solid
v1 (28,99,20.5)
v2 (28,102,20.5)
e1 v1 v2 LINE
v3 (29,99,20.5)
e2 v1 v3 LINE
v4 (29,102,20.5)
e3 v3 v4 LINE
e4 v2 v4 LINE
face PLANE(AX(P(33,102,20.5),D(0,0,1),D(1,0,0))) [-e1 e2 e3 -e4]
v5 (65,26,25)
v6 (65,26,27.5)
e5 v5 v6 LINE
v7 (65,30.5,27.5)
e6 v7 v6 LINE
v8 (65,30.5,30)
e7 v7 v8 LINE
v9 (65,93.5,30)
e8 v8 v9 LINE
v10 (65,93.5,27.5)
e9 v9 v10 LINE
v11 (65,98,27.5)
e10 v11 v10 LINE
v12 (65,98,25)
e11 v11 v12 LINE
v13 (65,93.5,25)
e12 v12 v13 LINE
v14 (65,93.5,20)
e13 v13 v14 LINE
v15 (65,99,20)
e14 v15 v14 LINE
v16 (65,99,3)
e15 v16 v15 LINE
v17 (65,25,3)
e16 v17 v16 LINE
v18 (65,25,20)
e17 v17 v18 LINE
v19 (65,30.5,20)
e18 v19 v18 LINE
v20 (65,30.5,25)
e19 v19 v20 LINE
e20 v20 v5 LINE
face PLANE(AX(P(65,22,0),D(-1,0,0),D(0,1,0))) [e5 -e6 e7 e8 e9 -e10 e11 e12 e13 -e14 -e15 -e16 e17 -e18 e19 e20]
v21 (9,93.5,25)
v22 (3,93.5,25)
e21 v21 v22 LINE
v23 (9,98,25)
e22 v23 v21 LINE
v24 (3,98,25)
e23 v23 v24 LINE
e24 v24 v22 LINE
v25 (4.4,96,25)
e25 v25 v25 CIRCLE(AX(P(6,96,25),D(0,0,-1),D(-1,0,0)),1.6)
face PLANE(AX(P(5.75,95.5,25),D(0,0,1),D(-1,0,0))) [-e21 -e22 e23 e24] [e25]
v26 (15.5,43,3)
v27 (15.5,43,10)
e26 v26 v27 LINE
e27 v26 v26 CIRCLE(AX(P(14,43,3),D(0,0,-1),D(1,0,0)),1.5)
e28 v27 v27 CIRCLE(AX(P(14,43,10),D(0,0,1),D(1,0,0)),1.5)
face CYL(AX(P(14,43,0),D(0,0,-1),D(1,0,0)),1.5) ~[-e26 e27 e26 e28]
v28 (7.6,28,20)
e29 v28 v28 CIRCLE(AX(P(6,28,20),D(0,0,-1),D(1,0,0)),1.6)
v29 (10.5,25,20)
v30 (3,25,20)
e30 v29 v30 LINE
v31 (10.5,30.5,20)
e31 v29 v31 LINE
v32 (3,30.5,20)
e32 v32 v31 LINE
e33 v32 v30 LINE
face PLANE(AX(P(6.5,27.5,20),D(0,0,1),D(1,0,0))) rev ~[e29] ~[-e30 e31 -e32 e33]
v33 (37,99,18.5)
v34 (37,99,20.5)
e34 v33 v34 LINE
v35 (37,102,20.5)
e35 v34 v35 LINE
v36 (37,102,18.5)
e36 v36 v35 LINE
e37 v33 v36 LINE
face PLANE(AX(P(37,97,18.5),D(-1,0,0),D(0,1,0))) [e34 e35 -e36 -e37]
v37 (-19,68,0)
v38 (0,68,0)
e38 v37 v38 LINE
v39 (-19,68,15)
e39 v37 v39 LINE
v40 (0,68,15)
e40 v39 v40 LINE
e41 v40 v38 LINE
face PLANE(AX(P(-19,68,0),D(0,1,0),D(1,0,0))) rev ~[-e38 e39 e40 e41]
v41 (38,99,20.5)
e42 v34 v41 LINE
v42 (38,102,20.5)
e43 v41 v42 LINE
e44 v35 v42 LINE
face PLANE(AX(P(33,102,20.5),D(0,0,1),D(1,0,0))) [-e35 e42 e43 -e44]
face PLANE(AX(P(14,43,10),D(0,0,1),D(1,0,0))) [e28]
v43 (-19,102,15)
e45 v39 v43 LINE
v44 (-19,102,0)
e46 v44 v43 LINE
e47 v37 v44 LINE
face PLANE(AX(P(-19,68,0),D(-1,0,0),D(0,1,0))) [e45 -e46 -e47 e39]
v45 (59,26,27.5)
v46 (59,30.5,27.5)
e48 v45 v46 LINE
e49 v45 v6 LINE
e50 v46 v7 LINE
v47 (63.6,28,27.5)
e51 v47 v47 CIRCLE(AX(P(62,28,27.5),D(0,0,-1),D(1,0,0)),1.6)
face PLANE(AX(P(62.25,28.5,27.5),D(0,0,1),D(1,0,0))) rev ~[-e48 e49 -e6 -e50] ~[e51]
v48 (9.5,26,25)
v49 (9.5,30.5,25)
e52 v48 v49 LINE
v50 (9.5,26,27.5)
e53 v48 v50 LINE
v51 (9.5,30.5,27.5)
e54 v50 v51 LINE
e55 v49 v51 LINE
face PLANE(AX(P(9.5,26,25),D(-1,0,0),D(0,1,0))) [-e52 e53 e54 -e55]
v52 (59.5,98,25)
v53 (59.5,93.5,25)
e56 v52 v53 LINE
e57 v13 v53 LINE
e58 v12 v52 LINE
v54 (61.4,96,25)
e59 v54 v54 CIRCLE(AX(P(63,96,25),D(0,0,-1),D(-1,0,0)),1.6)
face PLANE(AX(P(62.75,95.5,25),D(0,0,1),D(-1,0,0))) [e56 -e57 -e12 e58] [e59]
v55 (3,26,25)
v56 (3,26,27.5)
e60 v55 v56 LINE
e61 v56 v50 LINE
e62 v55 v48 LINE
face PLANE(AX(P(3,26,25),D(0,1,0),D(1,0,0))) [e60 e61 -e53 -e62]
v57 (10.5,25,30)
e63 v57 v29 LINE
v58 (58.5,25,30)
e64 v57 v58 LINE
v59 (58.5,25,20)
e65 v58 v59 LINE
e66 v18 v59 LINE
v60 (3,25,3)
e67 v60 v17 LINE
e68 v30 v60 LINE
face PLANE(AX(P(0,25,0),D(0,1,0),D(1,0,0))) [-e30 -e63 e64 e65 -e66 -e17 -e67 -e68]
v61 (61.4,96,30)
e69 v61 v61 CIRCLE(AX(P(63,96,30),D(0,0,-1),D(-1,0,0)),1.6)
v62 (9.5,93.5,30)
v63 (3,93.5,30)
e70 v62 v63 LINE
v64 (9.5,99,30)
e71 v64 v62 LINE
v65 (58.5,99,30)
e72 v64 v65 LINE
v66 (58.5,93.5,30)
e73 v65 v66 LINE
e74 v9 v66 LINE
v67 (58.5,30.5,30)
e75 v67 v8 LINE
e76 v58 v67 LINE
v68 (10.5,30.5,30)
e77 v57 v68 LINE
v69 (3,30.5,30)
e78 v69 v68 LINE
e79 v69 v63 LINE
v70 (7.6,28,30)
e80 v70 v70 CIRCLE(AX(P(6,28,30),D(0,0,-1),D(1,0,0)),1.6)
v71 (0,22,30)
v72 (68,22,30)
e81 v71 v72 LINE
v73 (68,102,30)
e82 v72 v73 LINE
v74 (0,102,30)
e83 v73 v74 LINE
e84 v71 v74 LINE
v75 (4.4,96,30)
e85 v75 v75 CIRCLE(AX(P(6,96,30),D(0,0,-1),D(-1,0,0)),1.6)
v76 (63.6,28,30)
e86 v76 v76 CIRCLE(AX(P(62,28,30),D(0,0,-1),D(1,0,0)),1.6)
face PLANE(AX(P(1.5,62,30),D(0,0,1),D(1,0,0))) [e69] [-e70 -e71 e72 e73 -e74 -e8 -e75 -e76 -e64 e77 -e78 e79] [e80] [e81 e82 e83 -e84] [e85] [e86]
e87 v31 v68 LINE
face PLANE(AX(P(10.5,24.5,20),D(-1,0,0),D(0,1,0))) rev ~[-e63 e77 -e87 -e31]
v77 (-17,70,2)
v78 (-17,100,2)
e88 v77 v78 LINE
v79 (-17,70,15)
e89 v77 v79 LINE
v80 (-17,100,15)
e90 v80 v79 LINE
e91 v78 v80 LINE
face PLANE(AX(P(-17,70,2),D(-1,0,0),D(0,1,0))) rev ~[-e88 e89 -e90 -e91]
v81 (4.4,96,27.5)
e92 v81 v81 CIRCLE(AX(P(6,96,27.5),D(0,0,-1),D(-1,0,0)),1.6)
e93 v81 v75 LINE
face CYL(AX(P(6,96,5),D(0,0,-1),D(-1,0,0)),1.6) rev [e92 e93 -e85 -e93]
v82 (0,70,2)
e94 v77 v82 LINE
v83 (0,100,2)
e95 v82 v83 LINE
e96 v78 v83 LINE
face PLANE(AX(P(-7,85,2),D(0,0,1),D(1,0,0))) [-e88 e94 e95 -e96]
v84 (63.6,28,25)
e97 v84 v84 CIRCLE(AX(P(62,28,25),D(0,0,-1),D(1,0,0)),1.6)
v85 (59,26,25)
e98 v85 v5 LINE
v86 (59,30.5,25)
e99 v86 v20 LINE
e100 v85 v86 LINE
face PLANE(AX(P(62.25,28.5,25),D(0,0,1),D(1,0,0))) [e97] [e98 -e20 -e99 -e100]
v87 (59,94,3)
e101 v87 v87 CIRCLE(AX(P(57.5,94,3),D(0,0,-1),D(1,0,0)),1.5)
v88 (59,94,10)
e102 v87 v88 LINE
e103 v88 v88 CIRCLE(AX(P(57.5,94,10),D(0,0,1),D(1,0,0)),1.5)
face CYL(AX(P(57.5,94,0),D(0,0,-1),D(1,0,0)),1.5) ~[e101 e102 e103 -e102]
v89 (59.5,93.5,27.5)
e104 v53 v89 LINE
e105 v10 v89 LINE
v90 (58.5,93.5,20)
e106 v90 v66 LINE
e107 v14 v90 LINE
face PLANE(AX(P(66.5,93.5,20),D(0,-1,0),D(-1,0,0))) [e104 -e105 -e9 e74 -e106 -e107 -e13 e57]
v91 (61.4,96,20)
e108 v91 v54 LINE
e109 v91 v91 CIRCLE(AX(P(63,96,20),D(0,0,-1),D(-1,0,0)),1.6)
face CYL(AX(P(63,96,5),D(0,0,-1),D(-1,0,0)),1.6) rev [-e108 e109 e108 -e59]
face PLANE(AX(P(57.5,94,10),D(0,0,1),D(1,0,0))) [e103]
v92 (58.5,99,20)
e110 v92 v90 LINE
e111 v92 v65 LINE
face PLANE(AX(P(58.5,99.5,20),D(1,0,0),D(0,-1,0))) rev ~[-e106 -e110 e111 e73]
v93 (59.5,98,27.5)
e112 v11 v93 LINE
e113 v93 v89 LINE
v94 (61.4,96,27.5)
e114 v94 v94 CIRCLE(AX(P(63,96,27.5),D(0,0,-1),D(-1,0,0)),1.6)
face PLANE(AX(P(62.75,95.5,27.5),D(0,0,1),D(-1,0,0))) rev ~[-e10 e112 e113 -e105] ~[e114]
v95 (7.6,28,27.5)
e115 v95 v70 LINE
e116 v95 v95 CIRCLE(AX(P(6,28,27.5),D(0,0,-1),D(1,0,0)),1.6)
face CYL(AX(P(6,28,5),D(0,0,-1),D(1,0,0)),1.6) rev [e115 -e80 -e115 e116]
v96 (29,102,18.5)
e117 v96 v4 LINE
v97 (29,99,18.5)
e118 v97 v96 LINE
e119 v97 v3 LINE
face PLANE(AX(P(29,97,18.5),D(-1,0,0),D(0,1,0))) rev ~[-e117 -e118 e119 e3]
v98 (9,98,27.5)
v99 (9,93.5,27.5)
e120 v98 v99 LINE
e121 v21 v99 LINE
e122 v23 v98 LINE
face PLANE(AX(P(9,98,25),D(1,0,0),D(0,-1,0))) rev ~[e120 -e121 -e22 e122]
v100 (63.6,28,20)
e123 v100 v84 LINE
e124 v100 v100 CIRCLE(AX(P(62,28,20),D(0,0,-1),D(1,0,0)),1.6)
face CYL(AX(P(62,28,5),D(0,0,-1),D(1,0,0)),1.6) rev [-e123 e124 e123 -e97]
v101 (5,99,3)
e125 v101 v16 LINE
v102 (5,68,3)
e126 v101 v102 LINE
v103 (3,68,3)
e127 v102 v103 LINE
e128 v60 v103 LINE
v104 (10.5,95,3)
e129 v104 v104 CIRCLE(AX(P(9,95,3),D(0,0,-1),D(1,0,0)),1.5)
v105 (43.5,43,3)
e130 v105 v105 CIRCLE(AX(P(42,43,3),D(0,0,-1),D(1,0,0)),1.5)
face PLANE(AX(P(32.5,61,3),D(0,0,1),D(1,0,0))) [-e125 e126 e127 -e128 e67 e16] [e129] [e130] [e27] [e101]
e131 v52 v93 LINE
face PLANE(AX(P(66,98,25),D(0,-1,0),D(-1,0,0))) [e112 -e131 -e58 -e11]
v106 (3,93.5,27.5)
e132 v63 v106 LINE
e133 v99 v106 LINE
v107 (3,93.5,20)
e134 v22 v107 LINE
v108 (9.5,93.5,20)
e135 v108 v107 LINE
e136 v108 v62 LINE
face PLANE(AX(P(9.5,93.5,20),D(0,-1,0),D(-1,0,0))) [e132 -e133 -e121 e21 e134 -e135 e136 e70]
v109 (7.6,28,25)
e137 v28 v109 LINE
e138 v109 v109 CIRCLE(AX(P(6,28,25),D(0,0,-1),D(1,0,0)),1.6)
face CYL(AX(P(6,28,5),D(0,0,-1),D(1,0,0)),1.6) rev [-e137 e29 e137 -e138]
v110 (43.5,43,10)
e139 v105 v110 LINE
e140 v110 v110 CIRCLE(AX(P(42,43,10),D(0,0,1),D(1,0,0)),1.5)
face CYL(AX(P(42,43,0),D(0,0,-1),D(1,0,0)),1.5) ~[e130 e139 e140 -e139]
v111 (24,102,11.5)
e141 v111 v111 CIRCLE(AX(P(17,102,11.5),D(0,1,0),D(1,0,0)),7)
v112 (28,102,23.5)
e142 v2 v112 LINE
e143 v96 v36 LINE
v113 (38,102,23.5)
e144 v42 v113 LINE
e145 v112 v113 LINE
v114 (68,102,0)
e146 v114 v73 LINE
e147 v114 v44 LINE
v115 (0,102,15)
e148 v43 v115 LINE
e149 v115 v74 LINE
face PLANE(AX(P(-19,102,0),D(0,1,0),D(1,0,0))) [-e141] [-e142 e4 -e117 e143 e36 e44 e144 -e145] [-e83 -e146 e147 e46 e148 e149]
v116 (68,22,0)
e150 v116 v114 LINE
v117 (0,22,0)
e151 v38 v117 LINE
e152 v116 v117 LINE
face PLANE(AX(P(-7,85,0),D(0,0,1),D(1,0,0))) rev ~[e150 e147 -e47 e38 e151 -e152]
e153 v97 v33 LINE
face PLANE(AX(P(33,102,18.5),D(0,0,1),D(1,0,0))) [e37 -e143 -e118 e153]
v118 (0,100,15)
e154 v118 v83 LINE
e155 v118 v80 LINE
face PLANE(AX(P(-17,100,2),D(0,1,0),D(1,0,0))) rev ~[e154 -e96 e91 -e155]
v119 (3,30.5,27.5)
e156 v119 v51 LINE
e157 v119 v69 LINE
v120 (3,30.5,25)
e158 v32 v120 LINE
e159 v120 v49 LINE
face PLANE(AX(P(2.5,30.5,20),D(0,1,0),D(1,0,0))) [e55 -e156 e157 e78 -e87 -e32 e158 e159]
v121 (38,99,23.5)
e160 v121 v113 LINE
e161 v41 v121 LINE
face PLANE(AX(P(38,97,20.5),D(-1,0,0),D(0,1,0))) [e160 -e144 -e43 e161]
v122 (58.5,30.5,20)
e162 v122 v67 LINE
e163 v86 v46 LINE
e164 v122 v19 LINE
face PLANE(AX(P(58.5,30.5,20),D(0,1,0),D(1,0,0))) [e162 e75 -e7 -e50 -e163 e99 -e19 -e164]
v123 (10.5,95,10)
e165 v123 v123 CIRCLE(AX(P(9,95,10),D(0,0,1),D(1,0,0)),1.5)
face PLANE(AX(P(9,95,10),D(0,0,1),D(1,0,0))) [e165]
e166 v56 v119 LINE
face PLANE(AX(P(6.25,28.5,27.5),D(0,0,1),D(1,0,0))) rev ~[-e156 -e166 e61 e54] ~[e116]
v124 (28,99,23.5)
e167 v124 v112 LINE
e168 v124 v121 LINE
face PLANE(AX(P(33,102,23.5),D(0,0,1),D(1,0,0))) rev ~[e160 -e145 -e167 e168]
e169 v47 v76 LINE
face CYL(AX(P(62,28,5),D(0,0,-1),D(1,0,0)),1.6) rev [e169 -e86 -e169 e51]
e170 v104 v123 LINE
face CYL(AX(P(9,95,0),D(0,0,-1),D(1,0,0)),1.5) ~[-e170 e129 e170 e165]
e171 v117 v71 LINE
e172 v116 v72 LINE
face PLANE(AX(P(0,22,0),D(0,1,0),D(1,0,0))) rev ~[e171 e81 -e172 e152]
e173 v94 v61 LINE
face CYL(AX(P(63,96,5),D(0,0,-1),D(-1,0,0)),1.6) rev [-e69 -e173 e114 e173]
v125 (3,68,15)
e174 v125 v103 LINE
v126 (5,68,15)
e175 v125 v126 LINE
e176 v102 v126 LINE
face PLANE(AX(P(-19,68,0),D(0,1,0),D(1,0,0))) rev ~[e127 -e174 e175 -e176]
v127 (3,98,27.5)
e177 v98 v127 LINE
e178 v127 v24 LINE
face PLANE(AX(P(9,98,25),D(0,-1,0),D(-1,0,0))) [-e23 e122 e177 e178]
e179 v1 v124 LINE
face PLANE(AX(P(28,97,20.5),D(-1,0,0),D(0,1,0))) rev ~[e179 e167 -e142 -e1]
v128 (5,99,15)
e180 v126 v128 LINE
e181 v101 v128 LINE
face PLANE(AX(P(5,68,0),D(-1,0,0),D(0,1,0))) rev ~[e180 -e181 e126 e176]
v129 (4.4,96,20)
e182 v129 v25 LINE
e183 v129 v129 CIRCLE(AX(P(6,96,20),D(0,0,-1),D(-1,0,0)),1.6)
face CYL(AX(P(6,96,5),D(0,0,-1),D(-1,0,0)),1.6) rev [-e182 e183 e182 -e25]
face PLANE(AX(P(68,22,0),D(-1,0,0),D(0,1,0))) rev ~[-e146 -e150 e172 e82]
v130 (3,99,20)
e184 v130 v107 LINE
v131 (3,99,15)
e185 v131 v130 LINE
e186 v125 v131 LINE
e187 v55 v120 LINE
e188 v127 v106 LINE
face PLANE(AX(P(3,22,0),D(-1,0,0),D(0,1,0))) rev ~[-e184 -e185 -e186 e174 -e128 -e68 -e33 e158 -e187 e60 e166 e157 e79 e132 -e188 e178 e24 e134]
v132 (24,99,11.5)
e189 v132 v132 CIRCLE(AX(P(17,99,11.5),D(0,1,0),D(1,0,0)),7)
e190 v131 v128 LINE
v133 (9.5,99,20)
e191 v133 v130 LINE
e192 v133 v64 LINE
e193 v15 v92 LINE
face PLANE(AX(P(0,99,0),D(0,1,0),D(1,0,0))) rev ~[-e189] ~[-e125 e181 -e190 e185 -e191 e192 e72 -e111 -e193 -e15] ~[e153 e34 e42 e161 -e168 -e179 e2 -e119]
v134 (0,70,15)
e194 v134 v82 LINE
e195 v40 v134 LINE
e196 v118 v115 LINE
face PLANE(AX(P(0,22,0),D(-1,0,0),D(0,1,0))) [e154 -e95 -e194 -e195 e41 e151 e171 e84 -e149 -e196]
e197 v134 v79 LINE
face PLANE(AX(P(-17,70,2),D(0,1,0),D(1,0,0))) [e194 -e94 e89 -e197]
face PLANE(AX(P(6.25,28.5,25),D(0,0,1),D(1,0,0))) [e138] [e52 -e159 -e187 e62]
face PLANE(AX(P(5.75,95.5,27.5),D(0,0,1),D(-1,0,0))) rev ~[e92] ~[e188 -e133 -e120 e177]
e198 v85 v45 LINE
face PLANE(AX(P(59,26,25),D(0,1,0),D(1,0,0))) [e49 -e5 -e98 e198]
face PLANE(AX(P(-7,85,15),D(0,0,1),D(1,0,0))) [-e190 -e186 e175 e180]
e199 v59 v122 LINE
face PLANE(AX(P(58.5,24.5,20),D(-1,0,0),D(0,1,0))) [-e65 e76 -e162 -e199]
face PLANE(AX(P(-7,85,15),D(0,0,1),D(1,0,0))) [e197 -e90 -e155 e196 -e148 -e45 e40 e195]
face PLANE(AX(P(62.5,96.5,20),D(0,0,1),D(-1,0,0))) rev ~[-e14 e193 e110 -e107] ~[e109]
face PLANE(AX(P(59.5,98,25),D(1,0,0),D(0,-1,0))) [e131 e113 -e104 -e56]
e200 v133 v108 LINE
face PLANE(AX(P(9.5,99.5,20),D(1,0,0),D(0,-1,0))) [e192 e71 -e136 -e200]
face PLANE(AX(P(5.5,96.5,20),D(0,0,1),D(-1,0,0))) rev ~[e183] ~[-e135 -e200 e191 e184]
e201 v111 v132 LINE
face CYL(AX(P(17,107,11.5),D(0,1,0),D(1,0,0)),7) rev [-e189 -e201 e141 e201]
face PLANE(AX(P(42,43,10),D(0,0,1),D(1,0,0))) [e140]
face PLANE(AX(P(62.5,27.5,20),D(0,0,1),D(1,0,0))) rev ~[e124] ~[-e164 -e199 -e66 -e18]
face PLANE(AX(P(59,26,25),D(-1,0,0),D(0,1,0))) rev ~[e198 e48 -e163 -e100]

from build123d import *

# Parameters (mm, degrees)
BOX019_W               = 20
BOX019_H               = 30
BOX019_DEPTH           = 15
BOX018_W               = 24
BOX018_H               = 34
BOX018_DEPTH           = 15
CYLINDER011_R          = 1.6
CYLINDER011_DEPTH      = 30
BOX013_W               = 6.5
BOX013_H               = 5
BOX013_DEPTH           = 2.5
BOX014_W               = 8
BOX014_H               = 6
BOX014_DEPTH           = 10
CUT006_PLACEMENT_ANGLE = 180
CYLINDER010_R          = 1.6
CYLINDER010_DEPTH      = 30
BOX012_W               = 6.5
BOX012_H               = 5
BOX012_DEPTH           = 2.5
BOX011_W               = 8
BOX011_H               = 6
BOX011_DEPTH           = 10
CYLINDER009_R          = 1.6
CYLINDER009_DEPTH      = 30
BOX010_W               = 6.5
BOX010_H               = 5
BOX010_DEPTH           = 2.5
BOX009_W               = 8
BOX009_H               = 6
BOX009_DEPTH           = 10
BOX004_W               = 3
BOX004_H               = 80
BOX004_DEPTH           = 30
BOX003_W               = 3
BOX003_H               = 80
BOX003_DEPTH           = 30
BOX001_W               = 65
BOX001_H               = 3
BOX001_DEPTH           = 30
CYLINDER001_R          = 1.5
CYLINDER001_DEPTH      = 10
CYLINDER002_R          = 1.5
CYLINDER002_DEPTH      = 10
CYLINDER003_R          = 1.5
CYLINDER003_DEPTH      = 10
BOX_W                  = 65
BOX_H                  = 78
BOX_DEPTH              = 3
CYLINDER_R             = 1.5
CYLINDER_DEPTH         = 10
BOX008_W               = 10
BOX008_H               = 10
BOX008_DEPTH           = 3
BOX007_W               = 8
BOX007_H               = 10
BOX007_DEPTH           = 3
CYLINDER008_R          = 7
CYLINDER008_DEPTH      = 10
BOX002_W               = 65
BOX002_H               = 3
BOX002_DEPTH           = 30
CYLINDER012_R          = 1.6
CYLINDER012_DEPTH      = 30
BOX015_W               = 6.5
BOX015_H               = 5
BOX015_DEPTH           = 2.5
BOX016_W               = 8
BOX016_H               = 6
BOX016_DEPTH           = 10
CUT007_PLACEMENT_ANGLE = 180


with BuildPart() as cube015:
    # Box019 → Box019 (new body)
    with BuildSketch(Plane(origin=(-17, 70, 2), x_dir=(1, 0, 0), z_dir=(0, 0, 1))):
        with Locations((10, 15)):
            Rectangle(BOX019_W, BOX019_H)
    extrude(amount=BOX019_DEPTH)


with BuildPart() as cut009:
    # Box018 → Box018 (new body)
    with BuildSketch(Plane(origin=(-19, 68, 0), x_dir=(1, 0, 0), z_dir=(0, 0, 1))):
        with Locations((12, 17)):
            Rectangle(BOX018_W, BOX018_H)
    extrude(amount=BOX018_DEPTH)

    # Cut009: cut Cube015
    add(cube015.part, mode=Mode.SUBTRACT)


with BuildPart() as cylinder011:
    # Cylinder011 → Cylinder011 (new body)
    with BuildSketch(Plane(origin=(6, 29, 0), x_dir=(1, 0, 0), z_dir=(0, 0, 1))):
        Circle(CYLINDER011_R)
    extrude(amount=CYLINDER011_DEPTH)


with BuildPart() as cube009:
    # Box013 → Box013 (new body)
    with BuildSketch(Plane(origin=(3, 27, 20), x_dir=(1, 0, 0), z_dir=(0, 0, 1))):
        with Locations((3.25, 2.5)):
            Rectangle(BOX013_W, BOX013_H)
    extrude(amount=BOX013_DEPTH)


with BuildPart() as cut006:
    # Box014 → Box014 (new body)
    with BuildSketch(Plane(origin=(2.5, 25.5, 15), x_dir=(1, 0, 0), z_dir=(0, 0, 1))):
        with Locations((4, 3)):
            Rectangle(BOX014_W, BOX014_H)
    extrude(amount=BOX014_DEPTH)

    # Cut005: cut Cube009
    add(cube009.part, mode=Mode.SUBTRACT)

    # Cut006: cut Cylinder011
    add(cylinder011.part, mode=Mode.SUBTRACT)


with BuildPart() as cut006_1:
    # Cut006 placement: moved
    add(cut006.part.moved(Location((69, 125, 5))).rotate(Axis((69, 125, 5), (0, 0, 1)), CUT006_PLACEMENT_ANGLE))


with BuildPart() as cylinder010:
    # Cylinder010 → Cylinder010 (new body)
    with BuildSketch(Plane(origin=(6, 29, 0), x_dir=(1, 0, 0), z_dir=(0, 0, 1))):
        Circle(CYLINDER010_R)
    extrude(amount=CYLINDER010_DEPTH)


with BuildPart() as cube008:
    # Box012 → Box012 (new body)
    with BuildSketch(Plane(origin=(3, 27, 20), x_dir=(1, 0, 0), z_dir=(0, 0, 1))):
        with Locations((3.25, 2.5)):
            Rectangle(BOX012_W, BOX012_H)
    extrude(amount=BOX012_DEPTH)


with BuildPart() as cut003:
    # Box011 → Box011 (new body)
    with BuildSketch(Plane(origin=(2.5, 25.5, 15), x_dir=(1, 0, 0), z_dir=(0, 0, 1))):
        with Locations((4, 3)):
            Rectangle(BOX011_W, BOX011_H)
    extrude(amount=BOX011_DEPTH)

    # Cut004: cut Cube008
    add(cube008.part, mode=Mode.SUBTRACT)

    # Cut003: cut Cylinder010
    add(cylinder010.part, mode=Mode.SUBTRACT)


with BuildPart() as cut003_1:
    # Cut003 placement: moved
    add(cut003.part.moved(Location((56, -1, 5))))


with BuildPart() as cylinder:
    # Cylinder009 → Cylinder009 (new body)
    with BuildSketch(Plane(origin=(6, 29, 0), x_dir=(1, 0, 0), z_dir=(0, 0, 1))):
        Circle(CYLINDER009_R)
    extrude(amount=CYLINDER009_DEPTH)


with BuildPart() as cube006:
    # Box010 → Box010 (new body)
    with BuildSketch(Plane(origin=(3, 27, 20), x_dir=(1, 0, 0), z_dir=(0, 0, 1))):
        with Locations((3.25, 2.5)):
            Rectangle(BOX010_W, BOX010_H)
    extrude(amount=BOX010_DEPTH)


with BuildPart() as cut002:
    # Box009 → Box009 (new body)
    with BuildSketch(Plane(origin=(2.5, 25.5, 15), x_dir=(1, 0, 0), z_dir=(0, 0, 1))):
        with Locations((4, 3)):
            Rectangle(BOX009_W, BOX009_H)
    extrude(amount=BOX009_DEPTH)

    # Cut001: cut Cube006
    add(cube006.part, mode=Mode.SUBTRACT)

    # Cut002: cut Cylinder
    add(cylinder.part, mode=Mode.SUBTRACT)


with BuildPart() as cut002_1:
    # Cut002 placement: moved
    add(cut002.part.moved(Location((0, -1, 5))))


with BuildPart() as cube004:
    # Box004 → Box004 (new body)
    with BuildSketch(Plane(origin=(65, 22, 0), x_dir=(1, 0, 0), z_dir=(0, 0, 1))):
        with Locations((1.5, 40)):
            Rectangle(BOX004_W, BOX004_H)
    extrude(amount=BOX004_DEPTH)


with BuildPart() as cube003:
    # Box003 → Box003 (new body)
    with BuildSketch(Plane(origin=(0, 22, 0), x_dir=(1, 0, 0), z_dir=(0, 0, 1))):
        with Locations((1.5, 40)):
            Rectangle(BOX003_W, BOX003_H)
    extrude(amount=BOX003_DEPTH)


with BuildPart() as cube001:
    # Box001 → Box001 (new body)
    with BuildSketch(Plane(origin=(0, 22, 0), x_dir=(1, 0, 0), z_dir=(0, 0, 1))):
        with Locations((32.5, 1.5)):
            Rectangle(BOX001_W, BOX001_H)
    extrude(amount=BOX001_DEPTH)


with BuildPart() as cilindro001:
    # Cylinder001 → Cylinder001 (new body)
    with BuildSketch(Plane(origin=(42, 43, 0), x_dir=(1, 0, 0), z_dir=(0, 0, 1))):
        Circle(CYLINDER001_R)
    extrude(amount=CYLINDER001_DEPTH)


with BuildPart() as cilindro002:
    # Cylinder002 → Cylinder002 (new body)
    with BuildSketch(Plane(origin=(57.5, 94, 0), x_dir=(1, 0, 0), z_dir=(0, 0, 1))):
        Circle(CYLINDER002_R)
    extrude(amount=CYLINDER002_DEPTH)


with BuildPart() as cilindro003:
    # Cylinder003 → Cylinder003 (new body)
    with BuildSketch(Plane(origin=(9, 95, 0), x_dir=(1, 0, 0), z_dir=(0, 0, 1))):
        Circle(CYLINDER003_R)
    extrude(amount=CYLINDER003_DEPTH)


with BuildPart() as cube:
    # Box → Box (new body)
    with BuildSketch(Plane(origin=(0, 22, 0), x_dir=(1, 0, 0), z_dir=(0, 0, 1))):
        with Locations((32.5, 39)):
            Rectangle(BOX_W, BOX_H)
    extrude(amount=BOX_DEPTH)


with BuildPart() as fusion:
    # Cylinder → Cylinder (new body)
    with BuildSketch(Plane(origin=(14, 43, 0), x_dir=(1, 0, 0), z_dir=(0, 0, 1))):
        Circle(CYLINDER_R)
    extrude(amount=CYLINDER_DEPTH)

    # Fusion: union Cilindro001, Cilindro002, Cilindro003, Cube
    add(cilindro001.part)
    add(cilindro002.part)
    add(cilindro003.part)
    add(cube.part)


with BuildPart() as cubo008:
    # Box008 → Box008 (new body)
    with BuildSketch(Plane(origin=(28, 96, 20), x_dir=(1, 0, 0), z_dir=(0, 0, 1))):
        with Locations((5, 5)):
            Rectangle(BOX008_W, BOX008_H)
    extrude(amount=BOX008_DEPTH)


with BuildPart() as fusion001006:
    # Box007 → Box007 (new body)
    with BuildSketch(Plane(origin=(29, 96, 18), x_dir=(1, 0, 0), z_dir=(0, 0, 1))):
        with Locations((4, 5)):
            Rectangle(BOX007_W, BOX007_H)
    extrude(amount=BOX007_DEPTH)

    # Fusion001006: union Cubo008
    add(cubo008.part)


with BuildPart() as fusion001006_1:
    # Fusion001006 placement: moved
    add(fusion001006.part.moved(Location((0, 0, 1))))


with BuildPart() as fusion001005:
    # Cylinder008 → Cylinder008 (new body)
    with BuildSketch(Plane(origin=(17, 106, 12), x_dir=(1, 0, 0), z_dir=(0, -1, 0))):
        Circle(CYLINDER008_R)
    extrude(amount=CYLINDER008_DEPTH)

    # Fusion001005: union Fusion001006
    add(fusion001006_1.part)


with BuildPart() as fusion001005_1:
    # Fusion001005 placement: moved
    add(fusion001005.part.moved(Location((0, 1, -0.5))))


with BuildPart() as caja:
    # Box002 → Box002 (new body)
    with BuildSketch(Plane(origin=(0, 99, 0), x_dir=(1, 0, 0), z_dir=(0, 0, 1))):
        with Locations((32.5, 1.5)):
            Rectangle(BOX002_W, BOX002_H)
    extrude(amount=BOX002_DEPTH)

    # Cut: cut Fusion001005
    add(fusion001005_1.part, mode=Mode.SUBTRACT)

    # Fusion001007: union Cube004, Cube003, Cube001, Fusion
    add(cube004.part)
    add(cube003.part)
    add(cube001.part)
    add(fusion.part)


with BuildPart() as cylinder012:
    # Cylinder012 → Cylinder012 (new body)
    with BuildSketch(Plane(origin=(6, 29, 0), x_dir=(1, 0, 0), z_dir=(0, 0, 1))):
        Circle(CYLINDER012_R)
    extrude(amount=CYLINDER012_DEPTH)


with BuildPart() as cube011:
    # Box015 → Box015 (new body)
    with BuildSketch(Plane(origin=(3, 27, 20), x_dir=(1, 0, 0), z_dir=(0, 0, 1))):
        with Locations((3.25, 2.5)):
            Rectangle(BOX015_W, BOX015_H)
    extrude(amount=BOX015_DEPTH)


with BuildPart() as fusion001009:
    # Box016 → Box016 (new body)
    with BuildSketch(Plane(origin=(2.5, 25.5, 15), x_dir=(1, 0, 0), z_dir=(0, 0, 1))):
        with Locations((4, 3)):
            Rectangle(BOX016_W, BOX016_H)
    extrude(amount=BOX016_DEPTH)

    # Cut008: cut Cube011
    add(cube011.part, mode=Mode.SUBTRACT)

    # Cut007: cut Cylinder012
    add(cylinder012.part, mode=Mode.SUBTRACT)


with BuildPart() as fusion001009_1:
    # Cut007 placement: moved
    add(fusion001009.part.moved(Location((12, 125, 5))).rotate(Axis((12, 125, 5), (0, 0, 1)), CUT007_PLACEMENT_ANGLE))

    # Fusion001008: union Cut006, Cut003, Cut002, caja
    add(cut006_1.part)
    add(cut003_1.part)
    add(cut002_1.part)
    add(caja.part)

    # Fusion001009: union Cut009
    add(cut009.part)


solid = fusion001009_1.part
